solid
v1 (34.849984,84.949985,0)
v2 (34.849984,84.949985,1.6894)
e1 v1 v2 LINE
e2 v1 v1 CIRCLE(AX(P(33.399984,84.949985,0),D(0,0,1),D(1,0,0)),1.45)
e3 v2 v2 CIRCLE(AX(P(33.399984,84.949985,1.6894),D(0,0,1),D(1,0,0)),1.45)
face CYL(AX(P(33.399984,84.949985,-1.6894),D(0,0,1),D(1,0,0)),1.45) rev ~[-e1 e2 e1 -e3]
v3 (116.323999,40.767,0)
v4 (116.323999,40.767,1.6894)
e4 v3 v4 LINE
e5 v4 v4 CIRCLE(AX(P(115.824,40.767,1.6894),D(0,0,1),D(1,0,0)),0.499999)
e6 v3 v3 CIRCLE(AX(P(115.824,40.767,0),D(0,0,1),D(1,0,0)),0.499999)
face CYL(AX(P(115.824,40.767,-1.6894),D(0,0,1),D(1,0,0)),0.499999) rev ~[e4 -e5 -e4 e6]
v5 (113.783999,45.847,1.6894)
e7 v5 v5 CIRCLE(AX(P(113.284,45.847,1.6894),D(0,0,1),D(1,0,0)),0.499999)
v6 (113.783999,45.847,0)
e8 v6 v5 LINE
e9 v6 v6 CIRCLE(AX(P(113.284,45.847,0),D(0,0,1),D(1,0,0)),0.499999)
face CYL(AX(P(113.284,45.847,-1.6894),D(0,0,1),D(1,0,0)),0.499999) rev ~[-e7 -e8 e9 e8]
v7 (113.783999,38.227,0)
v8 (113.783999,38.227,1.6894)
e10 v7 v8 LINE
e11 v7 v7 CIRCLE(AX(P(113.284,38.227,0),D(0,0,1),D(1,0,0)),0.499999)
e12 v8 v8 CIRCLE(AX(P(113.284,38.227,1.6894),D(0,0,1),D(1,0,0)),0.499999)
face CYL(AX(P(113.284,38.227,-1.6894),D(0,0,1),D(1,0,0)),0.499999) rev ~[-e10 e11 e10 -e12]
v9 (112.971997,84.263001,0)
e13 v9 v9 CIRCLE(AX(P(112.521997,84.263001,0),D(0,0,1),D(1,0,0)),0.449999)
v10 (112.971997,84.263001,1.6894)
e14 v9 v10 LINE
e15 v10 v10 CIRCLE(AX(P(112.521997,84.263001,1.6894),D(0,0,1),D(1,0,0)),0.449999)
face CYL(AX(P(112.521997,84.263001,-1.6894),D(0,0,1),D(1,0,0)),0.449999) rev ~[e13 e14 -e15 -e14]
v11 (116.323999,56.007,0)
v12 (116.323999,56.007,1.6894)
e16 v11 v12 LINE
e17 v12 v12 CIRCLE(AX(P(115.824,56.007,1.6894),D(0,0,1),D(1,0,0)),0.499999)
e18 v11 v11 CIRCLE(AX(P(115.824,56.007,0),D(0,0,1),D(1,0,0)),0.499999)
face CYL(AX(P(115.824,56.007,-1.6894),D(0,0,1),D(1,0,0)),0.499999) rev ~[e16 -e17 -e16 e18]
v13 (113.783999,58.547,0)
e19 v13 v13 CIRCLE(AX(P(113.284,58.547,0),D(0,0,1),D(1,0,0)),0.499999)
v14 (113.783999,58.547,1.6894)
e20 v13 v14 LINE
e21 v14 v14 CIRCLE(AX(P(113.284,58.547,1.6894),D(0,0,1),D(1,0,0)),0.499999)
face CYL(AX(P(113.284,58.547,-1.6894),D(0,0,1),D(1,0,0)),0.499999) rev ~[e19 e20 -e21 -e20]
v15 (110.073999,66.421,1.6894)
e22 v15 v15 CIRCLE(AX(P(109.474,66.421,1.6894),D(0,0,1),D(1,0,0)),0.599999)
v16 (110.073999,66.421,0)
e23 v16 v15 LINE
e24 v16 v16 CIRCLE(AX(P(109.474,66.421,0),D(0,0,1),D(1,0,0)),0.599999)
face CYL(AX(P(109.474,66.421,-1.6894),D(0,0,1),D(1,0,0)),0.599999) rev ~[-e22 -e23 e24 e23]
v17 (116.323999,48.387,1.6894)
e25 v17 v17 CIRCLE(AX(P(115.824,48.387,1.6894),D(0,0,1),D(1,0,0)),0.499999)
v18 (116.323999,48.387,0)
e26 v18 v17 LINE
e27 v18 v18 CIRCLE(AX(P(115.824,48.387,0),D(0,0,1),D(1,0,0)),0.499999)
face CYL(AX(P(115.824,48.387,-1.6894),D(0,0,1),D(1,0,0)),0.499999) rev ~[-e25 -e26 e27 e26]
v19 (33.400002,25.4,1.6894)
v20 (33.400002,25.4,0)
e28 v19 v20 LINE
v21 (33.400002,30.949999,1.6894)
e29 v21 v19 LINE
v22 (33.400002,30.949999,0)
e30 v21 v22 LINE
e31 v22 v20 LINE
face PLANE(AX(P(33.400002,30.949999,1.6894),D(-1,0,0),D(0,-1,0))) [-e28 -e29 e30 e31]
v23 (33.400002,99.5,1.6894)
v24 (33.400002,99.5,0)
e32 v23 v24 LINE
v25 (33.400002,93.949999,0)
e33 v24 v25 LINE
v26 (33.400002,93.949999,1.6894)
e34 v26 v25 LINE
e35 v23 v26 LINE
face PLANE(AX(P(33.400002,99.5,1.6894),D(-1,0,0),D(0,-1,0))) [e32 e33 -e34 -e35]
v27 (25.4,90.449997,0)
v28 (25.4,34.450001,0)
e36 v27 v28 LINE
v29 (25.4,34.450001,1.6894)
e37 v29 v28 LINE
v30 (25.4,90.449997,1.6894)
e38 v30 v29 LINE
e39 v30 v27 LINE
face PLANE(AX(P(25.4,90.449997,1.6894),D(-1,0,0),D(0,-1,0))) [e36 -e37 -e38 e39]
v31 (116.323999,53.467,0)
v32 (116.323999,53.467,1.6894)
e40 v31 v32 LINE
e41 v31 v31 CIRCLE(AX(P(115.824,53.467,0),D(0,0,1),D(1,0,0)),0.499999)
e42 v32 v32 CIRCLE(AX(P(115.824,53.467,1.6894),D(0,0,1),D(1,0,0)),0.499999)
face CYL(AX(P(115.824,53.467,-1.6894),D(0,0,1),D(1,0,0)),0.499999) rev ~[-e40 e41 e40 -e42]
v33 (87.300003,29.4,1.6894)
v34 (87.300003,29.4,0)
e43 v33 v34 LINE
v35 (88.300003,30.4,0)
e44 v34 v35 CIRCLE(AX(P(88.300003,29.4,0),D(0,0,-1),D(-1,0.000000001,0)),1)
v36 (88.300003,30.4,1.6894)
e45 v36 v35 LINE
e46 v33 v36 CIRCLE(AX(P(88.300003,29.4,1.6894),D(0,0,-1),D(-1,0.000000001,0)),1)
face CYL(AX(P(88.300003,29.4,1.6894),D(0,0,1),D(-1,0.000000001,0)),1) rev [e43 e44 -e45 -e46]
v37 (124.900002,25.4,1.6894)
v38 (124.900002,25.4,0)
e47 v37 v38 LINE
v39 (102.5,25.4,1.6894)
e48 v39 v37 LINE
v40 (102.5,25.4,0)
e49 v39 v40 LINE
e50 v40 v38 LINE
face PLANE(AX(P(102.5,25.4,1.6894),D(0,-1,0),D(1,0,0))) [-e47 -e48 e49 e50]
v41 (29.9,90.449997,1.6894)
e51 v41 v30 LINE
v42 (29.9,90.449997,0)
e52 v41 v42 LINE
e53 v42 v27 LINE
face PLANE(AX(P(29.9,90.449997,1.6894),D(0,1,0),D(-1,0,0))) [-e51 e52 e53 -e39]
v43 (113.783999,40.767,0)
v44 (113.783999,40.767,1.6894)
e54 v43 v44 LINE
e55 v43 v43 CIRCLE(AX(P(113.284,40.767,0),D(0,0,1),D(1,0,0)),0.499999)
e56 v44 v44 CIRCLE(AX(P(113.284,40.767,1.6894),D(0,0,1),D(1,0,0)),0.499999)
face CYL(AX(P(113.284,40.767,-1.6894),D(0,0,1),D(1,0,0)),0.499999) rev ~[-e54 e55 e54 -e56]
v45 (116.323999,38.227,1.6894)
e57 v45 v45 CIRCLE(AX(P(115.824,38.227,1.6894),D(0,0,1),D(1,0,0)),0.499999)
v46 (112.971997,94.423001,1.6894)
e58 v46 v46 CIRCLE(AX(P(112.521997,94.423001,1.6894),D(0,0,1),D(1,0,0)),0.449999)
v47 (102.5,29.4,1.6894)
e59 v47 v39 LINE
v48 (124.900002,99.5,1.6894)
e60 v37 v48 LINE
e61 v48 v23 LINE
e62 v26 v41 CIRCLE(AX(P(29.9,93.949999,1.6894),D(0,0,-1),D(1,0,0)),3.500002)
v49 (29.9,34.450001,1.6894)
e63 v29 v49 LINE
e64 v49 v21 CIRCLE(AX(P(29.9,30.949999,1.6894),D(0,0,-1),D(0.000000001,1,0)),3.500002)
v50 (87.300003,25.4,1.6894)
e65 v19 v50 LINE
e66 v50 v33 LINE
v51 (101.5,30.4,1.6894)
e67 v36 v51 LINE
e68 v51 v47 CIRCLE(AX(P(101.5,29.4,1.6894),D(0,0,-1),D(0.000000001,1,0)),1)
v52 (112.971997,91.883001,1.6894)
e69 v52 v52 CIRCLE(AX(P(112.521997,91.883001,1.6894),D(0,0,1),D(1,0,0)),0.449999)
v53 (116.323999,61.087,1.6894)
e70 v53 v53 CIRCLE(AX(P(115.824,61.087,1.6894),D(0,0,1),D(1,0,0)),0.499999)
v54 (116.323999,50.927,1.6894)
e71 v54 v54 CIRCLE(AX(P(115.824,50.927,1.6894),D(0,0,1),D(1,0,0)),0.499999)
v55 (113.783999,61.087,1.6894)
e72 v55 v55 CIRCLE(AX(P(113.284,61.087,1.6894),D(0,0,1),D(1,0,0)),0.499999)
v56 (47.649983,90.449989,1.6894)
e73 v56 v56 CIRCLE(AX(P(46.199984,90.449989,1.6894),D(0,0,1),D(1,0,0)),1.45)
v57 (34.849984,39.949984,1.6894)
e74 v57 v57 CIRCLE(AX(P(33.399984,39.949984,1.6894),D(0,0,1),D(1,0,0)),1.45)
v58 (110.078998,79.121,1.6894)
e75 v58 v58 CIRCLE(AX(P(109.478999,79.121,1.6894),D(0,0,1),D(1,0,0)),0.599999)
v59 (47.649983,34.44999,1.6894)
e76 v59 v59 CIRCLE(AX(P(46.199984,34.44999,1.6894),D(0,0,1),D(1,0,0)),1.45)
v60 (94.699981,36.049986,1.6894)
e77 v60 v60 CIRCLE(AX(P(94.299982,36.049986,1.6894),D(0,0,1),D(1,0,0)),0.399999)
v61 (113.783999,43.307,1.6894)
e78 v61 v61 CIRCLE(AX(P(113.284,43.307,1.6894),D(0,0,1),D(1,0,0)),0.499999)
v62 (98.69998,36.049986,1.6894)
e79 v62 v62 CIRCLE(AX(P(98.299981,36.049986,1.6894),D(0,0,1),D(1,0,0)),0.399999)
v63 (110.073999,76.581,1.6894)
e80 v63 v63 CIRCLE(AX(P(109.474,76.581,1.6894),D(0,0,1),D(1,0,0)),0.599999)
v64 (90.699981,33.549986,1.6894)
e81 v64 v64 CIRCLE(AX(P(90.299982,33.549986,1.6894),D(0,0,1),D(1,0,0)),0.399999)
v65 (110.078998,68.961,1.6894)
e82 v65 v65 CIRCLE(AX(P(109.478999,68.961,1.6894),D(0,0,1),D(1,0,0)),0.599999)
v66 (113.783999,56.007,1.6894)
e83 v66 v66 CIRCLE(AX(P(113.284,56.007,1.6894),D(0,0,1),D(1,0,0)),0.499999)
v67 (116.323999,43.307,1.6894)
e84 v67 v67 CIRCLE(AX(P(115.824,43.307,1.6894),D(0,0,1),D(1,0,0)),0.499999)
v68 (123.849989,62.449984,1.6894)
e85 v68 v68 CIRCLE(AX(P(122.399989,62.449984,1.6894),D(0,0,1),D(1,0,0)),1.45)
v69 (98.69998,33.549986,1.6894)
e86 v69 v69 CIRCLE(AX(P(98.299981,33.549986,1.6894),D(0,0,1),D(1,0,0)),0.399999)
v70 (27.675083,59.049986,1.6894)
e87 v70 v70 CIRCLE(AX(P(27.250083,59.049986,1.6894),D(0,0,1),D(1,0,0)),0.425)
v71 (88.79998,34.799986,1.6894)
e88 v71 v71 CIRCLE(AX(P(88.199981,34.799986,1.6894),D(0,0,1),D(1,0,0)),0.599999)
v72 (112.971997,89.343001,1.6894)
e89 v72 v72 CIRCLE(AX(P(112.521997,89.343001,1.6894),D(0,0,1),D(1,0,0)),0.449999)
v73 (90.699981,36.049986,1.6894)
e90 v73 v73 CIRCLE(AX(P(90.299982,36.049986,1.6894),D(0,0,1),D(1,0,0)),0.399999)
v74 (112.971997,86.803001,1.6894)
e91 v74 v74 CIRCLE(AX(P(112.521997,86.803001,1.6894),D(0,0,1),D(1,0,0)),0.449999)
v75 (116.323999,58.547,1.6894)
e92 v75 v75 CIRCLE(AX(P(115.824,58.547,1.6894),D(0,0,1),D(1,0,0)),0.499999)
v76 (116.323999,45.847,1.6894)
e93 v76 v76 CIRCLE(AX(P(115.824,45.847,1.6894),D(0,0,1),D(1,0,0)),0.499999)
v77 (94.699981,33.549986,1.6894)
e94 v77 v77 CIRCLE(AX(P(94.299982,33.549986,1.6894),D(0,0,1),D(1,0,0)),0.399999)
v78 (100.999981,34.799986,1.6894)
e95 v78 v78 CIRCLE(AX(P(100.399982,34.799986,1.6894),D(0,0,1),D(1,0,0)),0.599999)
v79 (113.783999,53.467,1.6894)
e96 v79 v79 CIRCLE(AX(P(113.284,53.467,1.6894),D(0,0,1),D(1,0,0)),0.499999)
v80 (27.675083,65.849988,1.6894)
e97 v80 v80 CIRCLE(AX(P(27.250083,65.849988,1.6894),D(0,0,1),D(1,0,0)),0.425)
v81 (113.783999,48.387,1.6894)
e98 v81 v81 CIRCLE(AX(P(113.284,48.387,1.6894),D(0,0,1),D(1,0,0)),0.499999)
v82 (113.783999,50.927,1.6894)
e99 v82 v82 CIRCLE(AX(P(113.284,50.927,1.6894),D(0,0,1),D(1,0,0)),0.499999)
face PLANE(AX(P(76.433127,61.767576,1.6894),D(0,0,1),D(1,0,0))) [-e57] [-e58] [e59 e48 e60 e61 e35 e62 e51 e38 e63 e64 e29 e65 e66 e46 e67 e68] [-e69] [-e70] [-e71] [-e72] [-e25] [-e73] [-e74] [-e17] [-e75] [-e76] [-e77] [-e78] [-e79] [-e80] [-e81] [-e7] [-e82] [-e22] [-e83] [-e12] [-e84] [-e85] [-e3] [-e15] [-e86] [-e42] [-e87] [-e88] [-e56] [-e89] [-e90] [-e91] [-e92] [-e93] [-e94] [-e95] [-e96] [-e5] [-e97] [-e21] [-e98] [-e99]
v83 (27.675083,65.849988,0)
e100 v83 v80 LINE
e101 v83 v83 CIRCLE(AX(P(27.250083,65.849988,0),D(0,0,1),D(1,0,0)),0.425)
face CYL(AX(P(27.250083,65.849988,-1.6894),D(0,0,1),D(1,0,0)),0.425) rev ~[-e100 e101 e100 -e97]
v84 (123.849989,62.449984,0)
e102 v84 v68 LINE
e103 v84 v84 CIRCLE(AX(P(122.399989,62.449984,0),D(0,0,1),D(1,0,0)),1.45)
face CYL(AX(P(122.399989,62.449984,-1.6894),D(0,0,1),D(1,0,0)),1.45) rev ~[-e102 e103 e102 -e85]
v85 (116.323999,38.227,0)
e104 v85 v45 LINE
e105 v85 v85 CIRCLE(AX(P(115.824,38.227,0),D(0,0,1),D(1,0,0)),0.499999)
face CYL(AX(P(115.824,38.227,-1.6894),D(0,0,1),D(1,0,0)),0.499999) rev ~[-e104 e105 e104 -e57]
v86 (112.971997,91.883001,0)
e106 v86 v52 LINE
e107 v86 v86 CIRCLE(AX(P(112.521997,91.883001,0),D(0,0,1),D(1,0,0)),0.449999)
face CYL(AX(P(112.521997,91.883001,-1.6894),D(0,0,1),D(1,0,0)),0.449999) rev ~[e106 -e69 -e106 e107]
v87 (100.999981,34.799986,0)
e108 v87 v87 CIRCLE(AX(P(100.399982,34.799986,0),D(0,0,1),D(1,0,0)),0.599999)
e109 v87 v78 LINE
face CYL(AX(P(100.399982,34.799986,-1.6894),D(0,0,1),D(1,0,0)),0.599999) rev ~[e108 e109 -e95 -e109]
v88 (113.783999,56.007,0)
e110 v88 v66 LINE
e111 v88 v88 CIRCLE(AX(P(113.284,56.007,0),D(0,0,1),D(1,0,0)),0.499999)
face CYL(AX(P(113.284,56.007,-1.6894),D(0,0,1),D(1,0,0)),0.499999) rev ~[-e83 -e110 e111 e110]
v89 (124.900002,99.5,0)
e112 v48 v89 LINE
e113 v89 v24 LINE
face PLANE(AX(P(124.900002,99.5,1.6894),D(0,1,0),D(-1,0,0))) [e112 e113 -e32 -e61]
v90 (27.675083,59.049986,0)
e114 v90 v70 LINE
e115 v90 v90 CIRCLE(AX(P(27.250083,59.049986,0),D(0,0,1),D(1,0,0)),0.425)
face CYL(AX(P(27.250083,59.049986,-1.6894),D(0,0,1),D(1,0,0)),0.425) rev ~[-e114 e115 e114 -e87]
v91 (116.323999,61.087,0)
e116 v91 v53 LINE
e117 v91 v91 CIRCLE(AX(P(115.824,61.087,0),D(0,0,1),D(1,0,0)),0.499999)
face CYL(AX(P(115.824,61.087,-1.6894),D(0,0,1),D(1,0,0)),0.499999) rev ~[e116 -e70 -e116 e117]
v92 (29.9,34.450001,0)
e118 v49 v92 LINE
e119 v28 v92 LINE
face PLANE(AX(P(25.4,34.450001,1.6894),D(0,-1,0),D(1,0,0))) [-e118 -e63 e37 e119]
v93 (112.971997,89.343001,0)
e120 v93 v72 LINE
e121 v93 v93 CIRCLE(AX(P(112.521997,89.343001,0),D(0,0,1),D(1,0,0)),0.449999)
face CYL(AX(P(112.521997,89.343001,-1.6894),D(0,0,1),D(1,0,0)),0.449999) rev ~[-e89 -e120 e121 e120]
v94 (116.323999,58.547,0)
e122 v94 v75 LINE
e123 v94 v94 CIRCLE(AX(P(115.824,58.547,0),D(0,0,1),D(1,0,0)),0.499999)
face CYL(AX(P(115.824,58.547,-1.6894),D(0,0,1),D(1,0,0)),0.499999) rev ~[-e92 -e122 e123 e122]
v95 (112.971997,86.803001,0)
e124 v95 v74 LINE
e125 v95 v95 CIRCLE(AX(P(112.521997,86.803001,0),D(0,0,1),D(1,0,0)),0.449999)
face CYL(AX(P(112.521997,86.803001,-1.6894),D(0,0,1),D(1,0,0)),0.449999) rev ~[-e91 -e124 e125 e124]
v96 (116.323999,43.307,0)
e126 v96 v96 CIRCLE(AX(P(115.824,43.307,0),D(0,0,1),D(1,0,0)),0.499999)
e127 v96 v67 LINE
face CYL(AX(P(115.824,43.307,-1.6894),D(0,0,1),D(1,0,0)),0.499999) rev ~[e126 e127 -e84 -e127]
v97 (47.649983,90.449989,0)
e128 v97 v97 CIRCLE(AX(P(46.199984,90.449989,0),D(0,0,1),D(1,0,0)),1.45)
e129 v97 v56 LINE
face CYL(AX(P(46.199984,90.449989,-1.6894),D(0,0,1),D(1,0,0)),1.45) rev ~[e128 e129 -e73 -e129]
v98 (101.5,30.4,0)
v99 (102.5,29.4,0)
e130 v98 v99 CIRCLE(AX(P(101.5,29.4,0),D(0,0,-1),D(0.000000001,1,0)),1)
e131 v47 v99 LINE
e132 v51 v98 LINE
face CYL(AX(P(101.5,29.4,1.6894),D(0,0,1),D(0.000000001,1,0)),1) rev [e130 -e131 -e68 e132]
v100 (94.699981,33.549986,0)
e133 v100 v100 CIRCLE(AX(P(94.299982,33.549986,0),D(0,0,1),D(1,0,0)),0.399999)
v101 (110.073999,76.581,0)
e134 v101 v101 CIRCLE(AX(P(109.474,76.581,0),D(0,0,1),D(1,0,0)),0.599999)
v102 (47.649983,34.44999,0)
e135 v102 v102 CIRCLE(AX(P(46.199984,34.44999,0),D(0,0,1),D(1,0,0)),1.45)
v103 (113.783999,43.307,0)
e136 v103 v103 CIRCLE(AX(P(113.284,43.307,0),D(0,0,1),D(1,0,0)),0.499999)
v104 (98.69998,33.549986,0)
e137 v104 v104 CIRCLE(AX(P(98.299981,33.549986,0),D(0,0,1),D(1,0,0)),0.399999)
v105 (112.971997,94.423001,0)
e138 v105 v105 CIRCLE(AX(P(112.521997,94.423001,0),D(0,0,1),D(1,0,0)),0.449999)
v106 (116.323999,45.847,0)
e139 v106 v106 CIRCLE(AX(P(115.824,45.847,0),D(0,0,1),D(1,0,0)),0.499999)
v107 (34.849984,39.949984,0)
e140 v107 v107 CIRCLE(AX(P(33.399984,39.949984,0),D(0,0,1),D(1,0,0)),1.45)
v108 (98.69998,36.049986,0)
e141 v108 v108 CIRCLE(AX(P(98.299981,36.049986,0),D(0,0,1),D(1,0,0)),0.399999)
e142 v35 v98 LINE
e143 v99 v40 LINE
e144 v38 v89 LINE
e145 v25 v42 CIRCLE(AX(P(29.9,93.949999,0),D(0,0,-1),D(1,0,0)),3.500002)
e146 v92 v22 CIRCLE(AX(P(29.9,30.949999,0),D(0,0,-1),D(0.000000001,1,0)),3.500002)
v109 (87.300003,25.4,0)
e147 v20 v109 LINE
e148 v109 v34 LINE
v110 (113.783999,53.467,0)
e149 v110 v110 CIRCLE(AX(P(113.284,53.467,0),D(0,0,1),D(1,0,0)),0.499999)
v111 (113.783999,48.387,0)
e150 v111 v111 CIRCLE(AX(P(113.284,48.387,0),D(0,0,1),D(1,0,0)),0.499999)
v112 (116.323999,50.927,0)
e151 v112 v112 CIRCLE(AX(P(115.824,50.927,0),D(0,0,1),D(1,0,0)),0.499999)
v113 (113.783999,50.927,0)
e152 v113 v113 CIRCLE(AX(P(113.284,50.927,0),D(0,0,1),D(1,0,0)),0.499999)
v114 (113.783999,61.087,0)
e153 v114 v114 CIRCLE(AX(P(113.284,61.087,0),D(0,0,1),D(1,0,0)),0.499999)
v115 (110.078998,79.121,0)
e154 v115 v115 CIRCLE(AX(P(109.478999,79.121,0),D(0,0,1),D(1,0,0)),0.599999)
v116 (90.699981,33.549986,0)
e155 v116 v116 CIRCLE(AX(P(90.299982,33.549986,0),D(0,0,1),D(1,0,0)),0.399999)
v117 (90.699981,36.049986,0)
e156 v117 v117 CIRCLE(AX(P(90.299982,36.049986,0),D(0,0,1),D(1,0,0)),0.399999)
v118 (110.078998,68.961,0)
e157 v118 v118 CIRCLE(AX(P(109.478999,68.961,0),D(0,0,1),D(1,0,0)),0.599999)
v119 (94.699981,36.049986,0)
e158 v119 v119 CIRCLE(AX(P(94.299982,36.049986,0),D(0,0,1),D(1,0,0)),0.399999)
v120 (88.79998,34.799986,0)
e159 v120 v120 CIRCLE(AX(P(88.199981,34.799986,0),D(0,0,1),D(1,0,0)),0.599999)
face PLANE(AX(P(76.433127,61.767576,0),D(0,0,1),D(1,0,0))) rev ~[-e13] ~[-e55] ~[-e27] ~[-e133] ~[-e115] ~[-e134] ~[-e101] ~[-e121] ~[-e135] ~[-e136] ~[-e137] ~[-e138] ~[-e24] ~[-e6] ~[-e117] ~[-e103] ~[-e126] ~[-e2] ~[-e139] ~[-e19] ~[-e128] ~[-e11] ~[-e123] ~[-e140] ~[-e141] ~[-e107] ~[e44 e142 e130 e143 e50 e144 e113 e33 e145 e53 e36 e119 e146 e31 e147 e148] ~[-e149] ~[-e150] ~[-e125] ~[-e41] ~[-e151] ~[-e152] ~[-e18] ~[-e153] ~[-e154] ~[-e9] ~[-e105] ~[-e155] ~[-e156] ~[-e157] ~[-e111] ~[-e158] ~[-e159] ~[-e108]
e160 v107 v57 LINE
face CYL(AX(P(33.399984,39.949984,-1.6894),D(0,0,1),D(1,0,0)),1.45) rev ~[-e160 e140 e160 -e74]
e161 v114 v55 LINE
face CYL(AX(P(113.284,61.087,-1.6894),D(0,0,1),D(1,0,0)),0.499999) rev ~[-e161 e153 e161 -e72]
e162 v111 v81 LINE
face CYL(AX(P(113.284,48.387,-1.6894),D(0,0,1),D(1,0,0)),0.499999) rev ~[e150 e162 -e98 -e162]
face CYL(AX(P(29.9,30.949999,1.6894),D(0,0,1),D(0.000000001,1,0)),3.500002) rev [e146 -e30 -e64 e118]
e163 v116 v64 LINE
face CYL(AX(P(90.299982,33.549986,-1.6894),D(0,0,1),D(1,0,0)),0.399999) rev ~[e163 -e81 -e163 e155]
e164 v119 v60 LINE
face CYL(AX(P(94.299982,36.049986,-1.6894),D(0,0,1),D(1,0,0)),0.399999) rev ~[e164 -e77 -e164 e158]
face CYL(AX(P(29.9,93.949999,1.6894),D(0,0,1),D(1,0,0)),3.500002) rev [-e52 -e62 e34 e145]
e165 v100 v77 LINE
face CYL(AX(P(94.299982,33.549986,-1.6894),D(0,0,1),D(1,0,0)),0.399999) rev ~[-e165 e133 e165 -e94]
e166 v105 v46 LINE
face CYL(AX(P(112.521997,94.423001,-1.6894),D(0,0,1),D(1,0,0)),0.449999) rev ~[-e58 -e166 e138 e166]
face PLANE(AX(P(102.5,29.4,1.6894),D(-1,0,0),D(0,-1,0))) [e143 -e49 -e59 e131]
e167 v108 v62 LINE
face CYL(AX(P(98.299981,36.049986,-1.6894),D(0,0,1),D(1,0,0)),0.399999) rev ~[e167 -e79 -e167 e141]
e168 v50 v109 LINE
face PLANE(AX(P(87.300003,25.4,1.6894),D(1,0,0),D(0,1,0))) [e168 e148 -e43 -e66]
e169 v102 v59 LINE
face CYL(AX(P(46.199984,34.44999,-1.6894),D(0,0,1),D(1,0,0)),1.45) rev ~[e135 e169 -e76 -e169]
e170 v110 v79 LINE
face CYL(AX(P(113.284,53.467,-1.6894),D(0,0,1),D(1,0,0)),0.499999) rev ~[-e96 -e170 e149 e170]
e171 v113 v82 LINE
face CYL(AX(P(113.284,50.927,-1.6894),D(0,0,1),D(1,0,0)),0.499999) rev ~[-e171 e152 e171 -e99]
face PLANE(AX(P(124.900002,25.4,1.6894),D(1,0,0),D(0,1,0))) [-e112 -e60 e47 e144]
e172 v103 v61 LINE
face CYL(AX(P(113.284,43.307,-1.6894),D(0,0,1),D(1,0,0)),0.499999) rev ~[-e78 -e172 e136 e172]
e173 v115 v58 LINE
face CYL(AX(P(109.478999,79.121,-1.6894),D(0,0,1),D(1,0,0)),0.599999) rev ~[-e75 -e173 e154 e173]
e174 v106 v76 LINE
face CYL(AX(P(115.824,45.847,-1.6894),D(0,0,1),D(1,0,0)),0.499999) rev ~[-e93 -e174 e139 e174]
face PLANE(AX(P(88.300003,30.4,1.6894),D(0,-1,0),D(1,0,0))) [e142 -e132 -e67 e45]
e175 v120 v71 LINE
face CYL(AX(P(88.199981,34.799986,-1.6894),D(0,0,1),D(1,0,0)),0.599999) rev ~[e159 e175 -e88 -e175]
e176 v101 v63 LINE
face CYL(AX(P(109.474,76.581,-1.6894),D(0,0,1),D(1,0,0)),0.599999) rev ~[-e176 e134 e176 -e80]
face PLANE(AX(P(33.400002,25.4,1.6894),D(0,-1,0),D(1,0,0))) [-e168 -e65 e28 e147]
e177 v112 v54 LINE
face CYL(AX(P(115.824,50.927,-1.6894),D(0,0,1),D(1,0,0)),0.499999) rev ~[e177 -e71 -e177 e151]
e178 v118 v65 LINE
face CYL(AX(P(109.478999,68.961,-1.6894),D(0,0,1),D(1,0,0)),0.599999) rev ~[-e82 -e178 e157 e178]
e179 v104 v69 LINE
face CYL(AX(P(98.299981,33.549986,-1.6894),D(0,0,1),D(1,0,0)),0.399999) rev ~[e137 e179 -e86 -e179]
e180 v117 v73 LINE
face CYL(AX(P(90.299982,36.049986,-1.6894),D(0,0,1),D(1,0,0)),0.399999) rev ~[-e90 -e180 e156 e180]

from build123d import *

# Parameters (mm, degrees)
BOSS_EXTRUDE1_DEPTH          = 1.68939972
F_2_9_2_9_DIAMETER_HOLE1_D   = 2.89999928
HOLE1_D                      = 0.8999982
LPATTERN1_COUNT              = 5
LPATTERN1_PITCH              = 2.54
HOLE2_D                      = 0.999998
LPATTERN2_COUNT              = 2
LPATTERN2_PITCH              = 2.54
LPATTERN2_COUNT_DIR2         = 10
LPATTERN2_PITCH_DIR2         = 2.54
HOLE3_D                      = 1.1999976
LPATTERN3_COUNT              = 2
LPATTERN3_PITCH              = 2.540004919
HOLE4_D                      = 1.1999976
LPATTERN4_COUNT              = 2
LPATTERN4_PITCH              = 2.540004919
F_2_9_2_9_DIAMETER_HOLE2_D   = 2.89999928
F_2_9_2_9_DIAMETER_HOLE3_D   = 2.89999928
F_0_85_0_85_DIAMETER_HOLE1_D = 0.85000084
LPATTERN5_COUNT              = 2
LPATTERN5_PITCH              = 6.80000164
HOLE5_D                      = 0.7999984
LPATTERN6_COUNT              = 3
LPATTERN6_PITCH              = 3.99999962
LPATTERN6_COUNT_DIR2         = 2
LPATTERN6_PITCH_DIR2         = 2.50000008
F_2_9_2_9_DIAMETER_HOLE4_D   = 2.89999928
HOLE6_D                      = 1.1999976
LPATTERN7_COUNT              = 2
LPATTERN7_PITCH              = 12.200001
F_2_9_2_9_DIAMETER_HOLE5_D   = 2.89999928


with BuildPart() as part:
    # Sketch1 → Boss-Extrude1 (new body)
    with BuildSketch(Plane.XY.offset(1.68939972)):
        with BuildLine():
            Line((87.300003052, 25.399999619), (87.300003052, 29.399999619))
            ThreePointArc((87.300003052, 29.399999619), (87.592896271, 30.1071064), (88.300003052, 30.399999619))
            Line((88.300003052, 30.399999619), (101.5, 30.399999619))
            ThreePointArc((101.5, 30.399999619), (102.207106781, 30.1071064), (102.5, 29.399999619))
            Line((102.5, 29.399999619), (102.5, 25.399999619))
            Line((102.5, 25.399999619), (124.900001526, 25.399999619))
            Line((124.900001526, 25.399999619), (124.900001526, 99.5))
            Line((124.900001526, 99.5), (33.400001526, 99.5))
            Line((33.400001526, 99.5), (33.400001526, 93.949998856))
            ThreePointArc((33.400001526, 93.949998856), (32.374874701, 91.475123773), (29.899999619, 90.449996948))
            Line((29.899999619, 90.449996948), (25.399999619, 90.449996948))
            Line((25.399999619, 90.449996948), (25.399999619, 34.450000763))
            Line((25.399999619, 34.450000763), (29.899999619, 34.450000763))
            ThreePointArc((29.899999619, 34.450000763), (32.374874701, 33.424873938), (33.400001526, 30.949998856))
            Line((33.400001526, 30.949998856), (33.400001526, 25.399999619))
            Line((33.400001526, 25.399999619), (87.300003052, 25.399999619))
        make_face()
    extrude(amount=-BOSS_EXTRUDE1_DEPTH)

    # Ø2.9 (2.9) Diameter Hole1 (through all)
    with Locations(Plane(origin=(0, 0, 0), x_dir=(-1, 0, 0), z_dir=(0, 0, -1))):
        with Locations((-122.39998888, 62.44998432)):
            Hole(F_2_9_2_9_DIAMETER_HOLE1_D / 2)

    # Hole1 (through all)
    with Locations(Plane(origin=(0, 0, 0), x_dir=(-1, 0, 0), z_dir=(0, 0, -1))):
        with Locations((-112.52199746, 94.4230014)):
            hole1 = Hole(HOLE1_D / 2)

    # LPattern1: Hole1 ×5
    with Locations(*[(0, -i * LPATTERN1_PITCH, 0) for i in range(1, LPATTERN1_COUNT)]):
        add(hole1, mode=Mode.SUBTRACT)

    # Hole2 (through all)
    with Locations(Plane(origin=(0, 0, 0), x_dir=(-1, 0, 0), z_dir=(0, 0, -1))):
        with Locations((-113.284, 38.227)):
            hole2 = Hole(HOLE2_D / 2)

    # LPattern2: Hole2 2 × 10
    with Locations(*[(i * LPATTERN2_PITCH, j * LPATTERN2_PITCH_DIR2, 0) for i in range(LPATTERN2_COUNT) for j in range(LPATTERN2_COUNT_DIR2) if (i, j) != (0, 0)]):
        add(hole2, mode=Mode.SUBTRACT)

    # Hole3 (through all)
    with Locations(Plane(origin=(0, 0, 0), x_dir=(-1, 0, 0), z_dir=(0, 0, -1))):
        with Locations((-109.47899872, 79.121)):
            hole3 = Hole(HOLE3_D / 2)

    # LPattern3: Hole3 ×2
    with Locations(*[Vector(-0.0019679961889539077, -0.9999980634936251, 0) * (i * LPATTERN3_PITCH) for i in range(1, LPATTERN3_COUNT)]):
        add(hole3, mode=Mode.SUBTRACT)

    # Hole4 (through all)
    with Locations(Plane(origin=(0, 0, 0), x_dir=(-1, 0, 0), z_dir=(0, 0, -1))):
        with Locations((-109.47899872, 68.961)):
            hole4 = Hole(HOLE4_D / 2)

    # LPattern4: Hole4 ×2
    with Locations(*[Vector(-0.0019679961889539077, -0.9999980634936251, 0) * (i * LPATTERN4_PITCH) for i in range(1, LPATTERN4_COUNT)]):
        add(hole4, mode=Mode.SUBTRACT)

    # Ø2.9 (2.9) Diameter Hole2 (through all)
    with Locations(Plane(origin=(0, 0, 0), x_dir=(-1, 0, 0), z_dir=(0, 0, -1))):
        with Locations((-46.1999838, 90.44998928)):
            Hole(F_2_9_2_9_DIAMETER_HOLE2_D / 2)

    # Ø2.9 (2.9) Diameter Hole3 (through all)
    with Locations(Plane(origin=(0, 0, 0), x_dir=(-1, 0, 0), z_dir=(0, 0, -1))):
        with Locations((-33.399984, 84.94998504)):
            Hole(F_2_9_2_9_DIAMETER_HOLE3_D / 2)

    # Ø0.85 (0.85) Diameter Hole1 (through all)
    with Locations(Plane(origin=(0, 0, 0), x_dir=(-1, 0, 0), z_dir=(0, 0, -1))):
        with Locations((-27.25008266, 65.84998768)):
            f_0_85_0_85_diameter_hole1 = Hole(F_0_85_0_85_DIAMETER_HOLE1_D / 2)

    # LPattern5: Ø0.85 (0.85) Diameter Hole1 ×2
    with Locations(*[(0, -i * LPATTERN5_PITCH, 0) for i in range(1, LPATTERN5_COUNT)]):
        add(f_0_85_0_85_diameter_hole1, mode=Mode.SUBTRACT)

    # Hole5 (through all)
    with Locations(Plane(origin=(0, 0, 0), x_dir=(-1, 0, 0), z_dir=(0, 0, -1))):
        with Locations((-90.29998196, 36.04998632)):
            hole5 = Hole(HOLE5_D / 2)

    # LPattern6: Hole5 3 × 2
    with Locations(*[(i * LPATTERN6_PITCH, -j * LPATTERN6_PITCH_DIR2, 0) for i in range(LPATTERN6_COUNT) for j in range(LPATTERN6_COUNT_DIR2) if (i, j) != (0, 0)]):
        add(hole5, mode=Mode.SUBTRACT)

    # Ø2.9 (2.9) Diameter Hole4 (through all)
    with Locations(Plane(origin=(0, 0, 0), x_dir=(-1, 0, 0), z_dir=(0, 0, -1))):
        with Locations((-46.1999838, 34.44998952)):
            Hole(F_2_9_2_9_DIAMETER_HOLE4_D / 2)

    # Hole6 (through all)
    with Locations(Plane(origin=(0, 0, 0), x_dir=(-1, 0, 0), z_dir=(0, 0, -1))):
        with Locations((-88.19998108, 34.79998628)):
            hole6 = Hole(HOLE6_D / 2)

    # LPattern7: Hole6 ×2
    with Locations(*[(i * LPATTERN7_PITCH, 0, 0) for i in range(1, LPATTERN7_COUNT)]):
        add(hole6, mode=Mode.SUBTRACT)

    # Ø2.9 (2.9) Diameter Hole5 (through all)
    with Locations(Plane(origin=(0, 0, 0), x_dir=(-1, 0, 0), z_dir=(0, 0, -1))):
        with Locations((-33.399984, 39.9499836)):
            Hole(F_2_9_2_9_DIAMETER_HOLE5_D / 2)


solid = part.part
